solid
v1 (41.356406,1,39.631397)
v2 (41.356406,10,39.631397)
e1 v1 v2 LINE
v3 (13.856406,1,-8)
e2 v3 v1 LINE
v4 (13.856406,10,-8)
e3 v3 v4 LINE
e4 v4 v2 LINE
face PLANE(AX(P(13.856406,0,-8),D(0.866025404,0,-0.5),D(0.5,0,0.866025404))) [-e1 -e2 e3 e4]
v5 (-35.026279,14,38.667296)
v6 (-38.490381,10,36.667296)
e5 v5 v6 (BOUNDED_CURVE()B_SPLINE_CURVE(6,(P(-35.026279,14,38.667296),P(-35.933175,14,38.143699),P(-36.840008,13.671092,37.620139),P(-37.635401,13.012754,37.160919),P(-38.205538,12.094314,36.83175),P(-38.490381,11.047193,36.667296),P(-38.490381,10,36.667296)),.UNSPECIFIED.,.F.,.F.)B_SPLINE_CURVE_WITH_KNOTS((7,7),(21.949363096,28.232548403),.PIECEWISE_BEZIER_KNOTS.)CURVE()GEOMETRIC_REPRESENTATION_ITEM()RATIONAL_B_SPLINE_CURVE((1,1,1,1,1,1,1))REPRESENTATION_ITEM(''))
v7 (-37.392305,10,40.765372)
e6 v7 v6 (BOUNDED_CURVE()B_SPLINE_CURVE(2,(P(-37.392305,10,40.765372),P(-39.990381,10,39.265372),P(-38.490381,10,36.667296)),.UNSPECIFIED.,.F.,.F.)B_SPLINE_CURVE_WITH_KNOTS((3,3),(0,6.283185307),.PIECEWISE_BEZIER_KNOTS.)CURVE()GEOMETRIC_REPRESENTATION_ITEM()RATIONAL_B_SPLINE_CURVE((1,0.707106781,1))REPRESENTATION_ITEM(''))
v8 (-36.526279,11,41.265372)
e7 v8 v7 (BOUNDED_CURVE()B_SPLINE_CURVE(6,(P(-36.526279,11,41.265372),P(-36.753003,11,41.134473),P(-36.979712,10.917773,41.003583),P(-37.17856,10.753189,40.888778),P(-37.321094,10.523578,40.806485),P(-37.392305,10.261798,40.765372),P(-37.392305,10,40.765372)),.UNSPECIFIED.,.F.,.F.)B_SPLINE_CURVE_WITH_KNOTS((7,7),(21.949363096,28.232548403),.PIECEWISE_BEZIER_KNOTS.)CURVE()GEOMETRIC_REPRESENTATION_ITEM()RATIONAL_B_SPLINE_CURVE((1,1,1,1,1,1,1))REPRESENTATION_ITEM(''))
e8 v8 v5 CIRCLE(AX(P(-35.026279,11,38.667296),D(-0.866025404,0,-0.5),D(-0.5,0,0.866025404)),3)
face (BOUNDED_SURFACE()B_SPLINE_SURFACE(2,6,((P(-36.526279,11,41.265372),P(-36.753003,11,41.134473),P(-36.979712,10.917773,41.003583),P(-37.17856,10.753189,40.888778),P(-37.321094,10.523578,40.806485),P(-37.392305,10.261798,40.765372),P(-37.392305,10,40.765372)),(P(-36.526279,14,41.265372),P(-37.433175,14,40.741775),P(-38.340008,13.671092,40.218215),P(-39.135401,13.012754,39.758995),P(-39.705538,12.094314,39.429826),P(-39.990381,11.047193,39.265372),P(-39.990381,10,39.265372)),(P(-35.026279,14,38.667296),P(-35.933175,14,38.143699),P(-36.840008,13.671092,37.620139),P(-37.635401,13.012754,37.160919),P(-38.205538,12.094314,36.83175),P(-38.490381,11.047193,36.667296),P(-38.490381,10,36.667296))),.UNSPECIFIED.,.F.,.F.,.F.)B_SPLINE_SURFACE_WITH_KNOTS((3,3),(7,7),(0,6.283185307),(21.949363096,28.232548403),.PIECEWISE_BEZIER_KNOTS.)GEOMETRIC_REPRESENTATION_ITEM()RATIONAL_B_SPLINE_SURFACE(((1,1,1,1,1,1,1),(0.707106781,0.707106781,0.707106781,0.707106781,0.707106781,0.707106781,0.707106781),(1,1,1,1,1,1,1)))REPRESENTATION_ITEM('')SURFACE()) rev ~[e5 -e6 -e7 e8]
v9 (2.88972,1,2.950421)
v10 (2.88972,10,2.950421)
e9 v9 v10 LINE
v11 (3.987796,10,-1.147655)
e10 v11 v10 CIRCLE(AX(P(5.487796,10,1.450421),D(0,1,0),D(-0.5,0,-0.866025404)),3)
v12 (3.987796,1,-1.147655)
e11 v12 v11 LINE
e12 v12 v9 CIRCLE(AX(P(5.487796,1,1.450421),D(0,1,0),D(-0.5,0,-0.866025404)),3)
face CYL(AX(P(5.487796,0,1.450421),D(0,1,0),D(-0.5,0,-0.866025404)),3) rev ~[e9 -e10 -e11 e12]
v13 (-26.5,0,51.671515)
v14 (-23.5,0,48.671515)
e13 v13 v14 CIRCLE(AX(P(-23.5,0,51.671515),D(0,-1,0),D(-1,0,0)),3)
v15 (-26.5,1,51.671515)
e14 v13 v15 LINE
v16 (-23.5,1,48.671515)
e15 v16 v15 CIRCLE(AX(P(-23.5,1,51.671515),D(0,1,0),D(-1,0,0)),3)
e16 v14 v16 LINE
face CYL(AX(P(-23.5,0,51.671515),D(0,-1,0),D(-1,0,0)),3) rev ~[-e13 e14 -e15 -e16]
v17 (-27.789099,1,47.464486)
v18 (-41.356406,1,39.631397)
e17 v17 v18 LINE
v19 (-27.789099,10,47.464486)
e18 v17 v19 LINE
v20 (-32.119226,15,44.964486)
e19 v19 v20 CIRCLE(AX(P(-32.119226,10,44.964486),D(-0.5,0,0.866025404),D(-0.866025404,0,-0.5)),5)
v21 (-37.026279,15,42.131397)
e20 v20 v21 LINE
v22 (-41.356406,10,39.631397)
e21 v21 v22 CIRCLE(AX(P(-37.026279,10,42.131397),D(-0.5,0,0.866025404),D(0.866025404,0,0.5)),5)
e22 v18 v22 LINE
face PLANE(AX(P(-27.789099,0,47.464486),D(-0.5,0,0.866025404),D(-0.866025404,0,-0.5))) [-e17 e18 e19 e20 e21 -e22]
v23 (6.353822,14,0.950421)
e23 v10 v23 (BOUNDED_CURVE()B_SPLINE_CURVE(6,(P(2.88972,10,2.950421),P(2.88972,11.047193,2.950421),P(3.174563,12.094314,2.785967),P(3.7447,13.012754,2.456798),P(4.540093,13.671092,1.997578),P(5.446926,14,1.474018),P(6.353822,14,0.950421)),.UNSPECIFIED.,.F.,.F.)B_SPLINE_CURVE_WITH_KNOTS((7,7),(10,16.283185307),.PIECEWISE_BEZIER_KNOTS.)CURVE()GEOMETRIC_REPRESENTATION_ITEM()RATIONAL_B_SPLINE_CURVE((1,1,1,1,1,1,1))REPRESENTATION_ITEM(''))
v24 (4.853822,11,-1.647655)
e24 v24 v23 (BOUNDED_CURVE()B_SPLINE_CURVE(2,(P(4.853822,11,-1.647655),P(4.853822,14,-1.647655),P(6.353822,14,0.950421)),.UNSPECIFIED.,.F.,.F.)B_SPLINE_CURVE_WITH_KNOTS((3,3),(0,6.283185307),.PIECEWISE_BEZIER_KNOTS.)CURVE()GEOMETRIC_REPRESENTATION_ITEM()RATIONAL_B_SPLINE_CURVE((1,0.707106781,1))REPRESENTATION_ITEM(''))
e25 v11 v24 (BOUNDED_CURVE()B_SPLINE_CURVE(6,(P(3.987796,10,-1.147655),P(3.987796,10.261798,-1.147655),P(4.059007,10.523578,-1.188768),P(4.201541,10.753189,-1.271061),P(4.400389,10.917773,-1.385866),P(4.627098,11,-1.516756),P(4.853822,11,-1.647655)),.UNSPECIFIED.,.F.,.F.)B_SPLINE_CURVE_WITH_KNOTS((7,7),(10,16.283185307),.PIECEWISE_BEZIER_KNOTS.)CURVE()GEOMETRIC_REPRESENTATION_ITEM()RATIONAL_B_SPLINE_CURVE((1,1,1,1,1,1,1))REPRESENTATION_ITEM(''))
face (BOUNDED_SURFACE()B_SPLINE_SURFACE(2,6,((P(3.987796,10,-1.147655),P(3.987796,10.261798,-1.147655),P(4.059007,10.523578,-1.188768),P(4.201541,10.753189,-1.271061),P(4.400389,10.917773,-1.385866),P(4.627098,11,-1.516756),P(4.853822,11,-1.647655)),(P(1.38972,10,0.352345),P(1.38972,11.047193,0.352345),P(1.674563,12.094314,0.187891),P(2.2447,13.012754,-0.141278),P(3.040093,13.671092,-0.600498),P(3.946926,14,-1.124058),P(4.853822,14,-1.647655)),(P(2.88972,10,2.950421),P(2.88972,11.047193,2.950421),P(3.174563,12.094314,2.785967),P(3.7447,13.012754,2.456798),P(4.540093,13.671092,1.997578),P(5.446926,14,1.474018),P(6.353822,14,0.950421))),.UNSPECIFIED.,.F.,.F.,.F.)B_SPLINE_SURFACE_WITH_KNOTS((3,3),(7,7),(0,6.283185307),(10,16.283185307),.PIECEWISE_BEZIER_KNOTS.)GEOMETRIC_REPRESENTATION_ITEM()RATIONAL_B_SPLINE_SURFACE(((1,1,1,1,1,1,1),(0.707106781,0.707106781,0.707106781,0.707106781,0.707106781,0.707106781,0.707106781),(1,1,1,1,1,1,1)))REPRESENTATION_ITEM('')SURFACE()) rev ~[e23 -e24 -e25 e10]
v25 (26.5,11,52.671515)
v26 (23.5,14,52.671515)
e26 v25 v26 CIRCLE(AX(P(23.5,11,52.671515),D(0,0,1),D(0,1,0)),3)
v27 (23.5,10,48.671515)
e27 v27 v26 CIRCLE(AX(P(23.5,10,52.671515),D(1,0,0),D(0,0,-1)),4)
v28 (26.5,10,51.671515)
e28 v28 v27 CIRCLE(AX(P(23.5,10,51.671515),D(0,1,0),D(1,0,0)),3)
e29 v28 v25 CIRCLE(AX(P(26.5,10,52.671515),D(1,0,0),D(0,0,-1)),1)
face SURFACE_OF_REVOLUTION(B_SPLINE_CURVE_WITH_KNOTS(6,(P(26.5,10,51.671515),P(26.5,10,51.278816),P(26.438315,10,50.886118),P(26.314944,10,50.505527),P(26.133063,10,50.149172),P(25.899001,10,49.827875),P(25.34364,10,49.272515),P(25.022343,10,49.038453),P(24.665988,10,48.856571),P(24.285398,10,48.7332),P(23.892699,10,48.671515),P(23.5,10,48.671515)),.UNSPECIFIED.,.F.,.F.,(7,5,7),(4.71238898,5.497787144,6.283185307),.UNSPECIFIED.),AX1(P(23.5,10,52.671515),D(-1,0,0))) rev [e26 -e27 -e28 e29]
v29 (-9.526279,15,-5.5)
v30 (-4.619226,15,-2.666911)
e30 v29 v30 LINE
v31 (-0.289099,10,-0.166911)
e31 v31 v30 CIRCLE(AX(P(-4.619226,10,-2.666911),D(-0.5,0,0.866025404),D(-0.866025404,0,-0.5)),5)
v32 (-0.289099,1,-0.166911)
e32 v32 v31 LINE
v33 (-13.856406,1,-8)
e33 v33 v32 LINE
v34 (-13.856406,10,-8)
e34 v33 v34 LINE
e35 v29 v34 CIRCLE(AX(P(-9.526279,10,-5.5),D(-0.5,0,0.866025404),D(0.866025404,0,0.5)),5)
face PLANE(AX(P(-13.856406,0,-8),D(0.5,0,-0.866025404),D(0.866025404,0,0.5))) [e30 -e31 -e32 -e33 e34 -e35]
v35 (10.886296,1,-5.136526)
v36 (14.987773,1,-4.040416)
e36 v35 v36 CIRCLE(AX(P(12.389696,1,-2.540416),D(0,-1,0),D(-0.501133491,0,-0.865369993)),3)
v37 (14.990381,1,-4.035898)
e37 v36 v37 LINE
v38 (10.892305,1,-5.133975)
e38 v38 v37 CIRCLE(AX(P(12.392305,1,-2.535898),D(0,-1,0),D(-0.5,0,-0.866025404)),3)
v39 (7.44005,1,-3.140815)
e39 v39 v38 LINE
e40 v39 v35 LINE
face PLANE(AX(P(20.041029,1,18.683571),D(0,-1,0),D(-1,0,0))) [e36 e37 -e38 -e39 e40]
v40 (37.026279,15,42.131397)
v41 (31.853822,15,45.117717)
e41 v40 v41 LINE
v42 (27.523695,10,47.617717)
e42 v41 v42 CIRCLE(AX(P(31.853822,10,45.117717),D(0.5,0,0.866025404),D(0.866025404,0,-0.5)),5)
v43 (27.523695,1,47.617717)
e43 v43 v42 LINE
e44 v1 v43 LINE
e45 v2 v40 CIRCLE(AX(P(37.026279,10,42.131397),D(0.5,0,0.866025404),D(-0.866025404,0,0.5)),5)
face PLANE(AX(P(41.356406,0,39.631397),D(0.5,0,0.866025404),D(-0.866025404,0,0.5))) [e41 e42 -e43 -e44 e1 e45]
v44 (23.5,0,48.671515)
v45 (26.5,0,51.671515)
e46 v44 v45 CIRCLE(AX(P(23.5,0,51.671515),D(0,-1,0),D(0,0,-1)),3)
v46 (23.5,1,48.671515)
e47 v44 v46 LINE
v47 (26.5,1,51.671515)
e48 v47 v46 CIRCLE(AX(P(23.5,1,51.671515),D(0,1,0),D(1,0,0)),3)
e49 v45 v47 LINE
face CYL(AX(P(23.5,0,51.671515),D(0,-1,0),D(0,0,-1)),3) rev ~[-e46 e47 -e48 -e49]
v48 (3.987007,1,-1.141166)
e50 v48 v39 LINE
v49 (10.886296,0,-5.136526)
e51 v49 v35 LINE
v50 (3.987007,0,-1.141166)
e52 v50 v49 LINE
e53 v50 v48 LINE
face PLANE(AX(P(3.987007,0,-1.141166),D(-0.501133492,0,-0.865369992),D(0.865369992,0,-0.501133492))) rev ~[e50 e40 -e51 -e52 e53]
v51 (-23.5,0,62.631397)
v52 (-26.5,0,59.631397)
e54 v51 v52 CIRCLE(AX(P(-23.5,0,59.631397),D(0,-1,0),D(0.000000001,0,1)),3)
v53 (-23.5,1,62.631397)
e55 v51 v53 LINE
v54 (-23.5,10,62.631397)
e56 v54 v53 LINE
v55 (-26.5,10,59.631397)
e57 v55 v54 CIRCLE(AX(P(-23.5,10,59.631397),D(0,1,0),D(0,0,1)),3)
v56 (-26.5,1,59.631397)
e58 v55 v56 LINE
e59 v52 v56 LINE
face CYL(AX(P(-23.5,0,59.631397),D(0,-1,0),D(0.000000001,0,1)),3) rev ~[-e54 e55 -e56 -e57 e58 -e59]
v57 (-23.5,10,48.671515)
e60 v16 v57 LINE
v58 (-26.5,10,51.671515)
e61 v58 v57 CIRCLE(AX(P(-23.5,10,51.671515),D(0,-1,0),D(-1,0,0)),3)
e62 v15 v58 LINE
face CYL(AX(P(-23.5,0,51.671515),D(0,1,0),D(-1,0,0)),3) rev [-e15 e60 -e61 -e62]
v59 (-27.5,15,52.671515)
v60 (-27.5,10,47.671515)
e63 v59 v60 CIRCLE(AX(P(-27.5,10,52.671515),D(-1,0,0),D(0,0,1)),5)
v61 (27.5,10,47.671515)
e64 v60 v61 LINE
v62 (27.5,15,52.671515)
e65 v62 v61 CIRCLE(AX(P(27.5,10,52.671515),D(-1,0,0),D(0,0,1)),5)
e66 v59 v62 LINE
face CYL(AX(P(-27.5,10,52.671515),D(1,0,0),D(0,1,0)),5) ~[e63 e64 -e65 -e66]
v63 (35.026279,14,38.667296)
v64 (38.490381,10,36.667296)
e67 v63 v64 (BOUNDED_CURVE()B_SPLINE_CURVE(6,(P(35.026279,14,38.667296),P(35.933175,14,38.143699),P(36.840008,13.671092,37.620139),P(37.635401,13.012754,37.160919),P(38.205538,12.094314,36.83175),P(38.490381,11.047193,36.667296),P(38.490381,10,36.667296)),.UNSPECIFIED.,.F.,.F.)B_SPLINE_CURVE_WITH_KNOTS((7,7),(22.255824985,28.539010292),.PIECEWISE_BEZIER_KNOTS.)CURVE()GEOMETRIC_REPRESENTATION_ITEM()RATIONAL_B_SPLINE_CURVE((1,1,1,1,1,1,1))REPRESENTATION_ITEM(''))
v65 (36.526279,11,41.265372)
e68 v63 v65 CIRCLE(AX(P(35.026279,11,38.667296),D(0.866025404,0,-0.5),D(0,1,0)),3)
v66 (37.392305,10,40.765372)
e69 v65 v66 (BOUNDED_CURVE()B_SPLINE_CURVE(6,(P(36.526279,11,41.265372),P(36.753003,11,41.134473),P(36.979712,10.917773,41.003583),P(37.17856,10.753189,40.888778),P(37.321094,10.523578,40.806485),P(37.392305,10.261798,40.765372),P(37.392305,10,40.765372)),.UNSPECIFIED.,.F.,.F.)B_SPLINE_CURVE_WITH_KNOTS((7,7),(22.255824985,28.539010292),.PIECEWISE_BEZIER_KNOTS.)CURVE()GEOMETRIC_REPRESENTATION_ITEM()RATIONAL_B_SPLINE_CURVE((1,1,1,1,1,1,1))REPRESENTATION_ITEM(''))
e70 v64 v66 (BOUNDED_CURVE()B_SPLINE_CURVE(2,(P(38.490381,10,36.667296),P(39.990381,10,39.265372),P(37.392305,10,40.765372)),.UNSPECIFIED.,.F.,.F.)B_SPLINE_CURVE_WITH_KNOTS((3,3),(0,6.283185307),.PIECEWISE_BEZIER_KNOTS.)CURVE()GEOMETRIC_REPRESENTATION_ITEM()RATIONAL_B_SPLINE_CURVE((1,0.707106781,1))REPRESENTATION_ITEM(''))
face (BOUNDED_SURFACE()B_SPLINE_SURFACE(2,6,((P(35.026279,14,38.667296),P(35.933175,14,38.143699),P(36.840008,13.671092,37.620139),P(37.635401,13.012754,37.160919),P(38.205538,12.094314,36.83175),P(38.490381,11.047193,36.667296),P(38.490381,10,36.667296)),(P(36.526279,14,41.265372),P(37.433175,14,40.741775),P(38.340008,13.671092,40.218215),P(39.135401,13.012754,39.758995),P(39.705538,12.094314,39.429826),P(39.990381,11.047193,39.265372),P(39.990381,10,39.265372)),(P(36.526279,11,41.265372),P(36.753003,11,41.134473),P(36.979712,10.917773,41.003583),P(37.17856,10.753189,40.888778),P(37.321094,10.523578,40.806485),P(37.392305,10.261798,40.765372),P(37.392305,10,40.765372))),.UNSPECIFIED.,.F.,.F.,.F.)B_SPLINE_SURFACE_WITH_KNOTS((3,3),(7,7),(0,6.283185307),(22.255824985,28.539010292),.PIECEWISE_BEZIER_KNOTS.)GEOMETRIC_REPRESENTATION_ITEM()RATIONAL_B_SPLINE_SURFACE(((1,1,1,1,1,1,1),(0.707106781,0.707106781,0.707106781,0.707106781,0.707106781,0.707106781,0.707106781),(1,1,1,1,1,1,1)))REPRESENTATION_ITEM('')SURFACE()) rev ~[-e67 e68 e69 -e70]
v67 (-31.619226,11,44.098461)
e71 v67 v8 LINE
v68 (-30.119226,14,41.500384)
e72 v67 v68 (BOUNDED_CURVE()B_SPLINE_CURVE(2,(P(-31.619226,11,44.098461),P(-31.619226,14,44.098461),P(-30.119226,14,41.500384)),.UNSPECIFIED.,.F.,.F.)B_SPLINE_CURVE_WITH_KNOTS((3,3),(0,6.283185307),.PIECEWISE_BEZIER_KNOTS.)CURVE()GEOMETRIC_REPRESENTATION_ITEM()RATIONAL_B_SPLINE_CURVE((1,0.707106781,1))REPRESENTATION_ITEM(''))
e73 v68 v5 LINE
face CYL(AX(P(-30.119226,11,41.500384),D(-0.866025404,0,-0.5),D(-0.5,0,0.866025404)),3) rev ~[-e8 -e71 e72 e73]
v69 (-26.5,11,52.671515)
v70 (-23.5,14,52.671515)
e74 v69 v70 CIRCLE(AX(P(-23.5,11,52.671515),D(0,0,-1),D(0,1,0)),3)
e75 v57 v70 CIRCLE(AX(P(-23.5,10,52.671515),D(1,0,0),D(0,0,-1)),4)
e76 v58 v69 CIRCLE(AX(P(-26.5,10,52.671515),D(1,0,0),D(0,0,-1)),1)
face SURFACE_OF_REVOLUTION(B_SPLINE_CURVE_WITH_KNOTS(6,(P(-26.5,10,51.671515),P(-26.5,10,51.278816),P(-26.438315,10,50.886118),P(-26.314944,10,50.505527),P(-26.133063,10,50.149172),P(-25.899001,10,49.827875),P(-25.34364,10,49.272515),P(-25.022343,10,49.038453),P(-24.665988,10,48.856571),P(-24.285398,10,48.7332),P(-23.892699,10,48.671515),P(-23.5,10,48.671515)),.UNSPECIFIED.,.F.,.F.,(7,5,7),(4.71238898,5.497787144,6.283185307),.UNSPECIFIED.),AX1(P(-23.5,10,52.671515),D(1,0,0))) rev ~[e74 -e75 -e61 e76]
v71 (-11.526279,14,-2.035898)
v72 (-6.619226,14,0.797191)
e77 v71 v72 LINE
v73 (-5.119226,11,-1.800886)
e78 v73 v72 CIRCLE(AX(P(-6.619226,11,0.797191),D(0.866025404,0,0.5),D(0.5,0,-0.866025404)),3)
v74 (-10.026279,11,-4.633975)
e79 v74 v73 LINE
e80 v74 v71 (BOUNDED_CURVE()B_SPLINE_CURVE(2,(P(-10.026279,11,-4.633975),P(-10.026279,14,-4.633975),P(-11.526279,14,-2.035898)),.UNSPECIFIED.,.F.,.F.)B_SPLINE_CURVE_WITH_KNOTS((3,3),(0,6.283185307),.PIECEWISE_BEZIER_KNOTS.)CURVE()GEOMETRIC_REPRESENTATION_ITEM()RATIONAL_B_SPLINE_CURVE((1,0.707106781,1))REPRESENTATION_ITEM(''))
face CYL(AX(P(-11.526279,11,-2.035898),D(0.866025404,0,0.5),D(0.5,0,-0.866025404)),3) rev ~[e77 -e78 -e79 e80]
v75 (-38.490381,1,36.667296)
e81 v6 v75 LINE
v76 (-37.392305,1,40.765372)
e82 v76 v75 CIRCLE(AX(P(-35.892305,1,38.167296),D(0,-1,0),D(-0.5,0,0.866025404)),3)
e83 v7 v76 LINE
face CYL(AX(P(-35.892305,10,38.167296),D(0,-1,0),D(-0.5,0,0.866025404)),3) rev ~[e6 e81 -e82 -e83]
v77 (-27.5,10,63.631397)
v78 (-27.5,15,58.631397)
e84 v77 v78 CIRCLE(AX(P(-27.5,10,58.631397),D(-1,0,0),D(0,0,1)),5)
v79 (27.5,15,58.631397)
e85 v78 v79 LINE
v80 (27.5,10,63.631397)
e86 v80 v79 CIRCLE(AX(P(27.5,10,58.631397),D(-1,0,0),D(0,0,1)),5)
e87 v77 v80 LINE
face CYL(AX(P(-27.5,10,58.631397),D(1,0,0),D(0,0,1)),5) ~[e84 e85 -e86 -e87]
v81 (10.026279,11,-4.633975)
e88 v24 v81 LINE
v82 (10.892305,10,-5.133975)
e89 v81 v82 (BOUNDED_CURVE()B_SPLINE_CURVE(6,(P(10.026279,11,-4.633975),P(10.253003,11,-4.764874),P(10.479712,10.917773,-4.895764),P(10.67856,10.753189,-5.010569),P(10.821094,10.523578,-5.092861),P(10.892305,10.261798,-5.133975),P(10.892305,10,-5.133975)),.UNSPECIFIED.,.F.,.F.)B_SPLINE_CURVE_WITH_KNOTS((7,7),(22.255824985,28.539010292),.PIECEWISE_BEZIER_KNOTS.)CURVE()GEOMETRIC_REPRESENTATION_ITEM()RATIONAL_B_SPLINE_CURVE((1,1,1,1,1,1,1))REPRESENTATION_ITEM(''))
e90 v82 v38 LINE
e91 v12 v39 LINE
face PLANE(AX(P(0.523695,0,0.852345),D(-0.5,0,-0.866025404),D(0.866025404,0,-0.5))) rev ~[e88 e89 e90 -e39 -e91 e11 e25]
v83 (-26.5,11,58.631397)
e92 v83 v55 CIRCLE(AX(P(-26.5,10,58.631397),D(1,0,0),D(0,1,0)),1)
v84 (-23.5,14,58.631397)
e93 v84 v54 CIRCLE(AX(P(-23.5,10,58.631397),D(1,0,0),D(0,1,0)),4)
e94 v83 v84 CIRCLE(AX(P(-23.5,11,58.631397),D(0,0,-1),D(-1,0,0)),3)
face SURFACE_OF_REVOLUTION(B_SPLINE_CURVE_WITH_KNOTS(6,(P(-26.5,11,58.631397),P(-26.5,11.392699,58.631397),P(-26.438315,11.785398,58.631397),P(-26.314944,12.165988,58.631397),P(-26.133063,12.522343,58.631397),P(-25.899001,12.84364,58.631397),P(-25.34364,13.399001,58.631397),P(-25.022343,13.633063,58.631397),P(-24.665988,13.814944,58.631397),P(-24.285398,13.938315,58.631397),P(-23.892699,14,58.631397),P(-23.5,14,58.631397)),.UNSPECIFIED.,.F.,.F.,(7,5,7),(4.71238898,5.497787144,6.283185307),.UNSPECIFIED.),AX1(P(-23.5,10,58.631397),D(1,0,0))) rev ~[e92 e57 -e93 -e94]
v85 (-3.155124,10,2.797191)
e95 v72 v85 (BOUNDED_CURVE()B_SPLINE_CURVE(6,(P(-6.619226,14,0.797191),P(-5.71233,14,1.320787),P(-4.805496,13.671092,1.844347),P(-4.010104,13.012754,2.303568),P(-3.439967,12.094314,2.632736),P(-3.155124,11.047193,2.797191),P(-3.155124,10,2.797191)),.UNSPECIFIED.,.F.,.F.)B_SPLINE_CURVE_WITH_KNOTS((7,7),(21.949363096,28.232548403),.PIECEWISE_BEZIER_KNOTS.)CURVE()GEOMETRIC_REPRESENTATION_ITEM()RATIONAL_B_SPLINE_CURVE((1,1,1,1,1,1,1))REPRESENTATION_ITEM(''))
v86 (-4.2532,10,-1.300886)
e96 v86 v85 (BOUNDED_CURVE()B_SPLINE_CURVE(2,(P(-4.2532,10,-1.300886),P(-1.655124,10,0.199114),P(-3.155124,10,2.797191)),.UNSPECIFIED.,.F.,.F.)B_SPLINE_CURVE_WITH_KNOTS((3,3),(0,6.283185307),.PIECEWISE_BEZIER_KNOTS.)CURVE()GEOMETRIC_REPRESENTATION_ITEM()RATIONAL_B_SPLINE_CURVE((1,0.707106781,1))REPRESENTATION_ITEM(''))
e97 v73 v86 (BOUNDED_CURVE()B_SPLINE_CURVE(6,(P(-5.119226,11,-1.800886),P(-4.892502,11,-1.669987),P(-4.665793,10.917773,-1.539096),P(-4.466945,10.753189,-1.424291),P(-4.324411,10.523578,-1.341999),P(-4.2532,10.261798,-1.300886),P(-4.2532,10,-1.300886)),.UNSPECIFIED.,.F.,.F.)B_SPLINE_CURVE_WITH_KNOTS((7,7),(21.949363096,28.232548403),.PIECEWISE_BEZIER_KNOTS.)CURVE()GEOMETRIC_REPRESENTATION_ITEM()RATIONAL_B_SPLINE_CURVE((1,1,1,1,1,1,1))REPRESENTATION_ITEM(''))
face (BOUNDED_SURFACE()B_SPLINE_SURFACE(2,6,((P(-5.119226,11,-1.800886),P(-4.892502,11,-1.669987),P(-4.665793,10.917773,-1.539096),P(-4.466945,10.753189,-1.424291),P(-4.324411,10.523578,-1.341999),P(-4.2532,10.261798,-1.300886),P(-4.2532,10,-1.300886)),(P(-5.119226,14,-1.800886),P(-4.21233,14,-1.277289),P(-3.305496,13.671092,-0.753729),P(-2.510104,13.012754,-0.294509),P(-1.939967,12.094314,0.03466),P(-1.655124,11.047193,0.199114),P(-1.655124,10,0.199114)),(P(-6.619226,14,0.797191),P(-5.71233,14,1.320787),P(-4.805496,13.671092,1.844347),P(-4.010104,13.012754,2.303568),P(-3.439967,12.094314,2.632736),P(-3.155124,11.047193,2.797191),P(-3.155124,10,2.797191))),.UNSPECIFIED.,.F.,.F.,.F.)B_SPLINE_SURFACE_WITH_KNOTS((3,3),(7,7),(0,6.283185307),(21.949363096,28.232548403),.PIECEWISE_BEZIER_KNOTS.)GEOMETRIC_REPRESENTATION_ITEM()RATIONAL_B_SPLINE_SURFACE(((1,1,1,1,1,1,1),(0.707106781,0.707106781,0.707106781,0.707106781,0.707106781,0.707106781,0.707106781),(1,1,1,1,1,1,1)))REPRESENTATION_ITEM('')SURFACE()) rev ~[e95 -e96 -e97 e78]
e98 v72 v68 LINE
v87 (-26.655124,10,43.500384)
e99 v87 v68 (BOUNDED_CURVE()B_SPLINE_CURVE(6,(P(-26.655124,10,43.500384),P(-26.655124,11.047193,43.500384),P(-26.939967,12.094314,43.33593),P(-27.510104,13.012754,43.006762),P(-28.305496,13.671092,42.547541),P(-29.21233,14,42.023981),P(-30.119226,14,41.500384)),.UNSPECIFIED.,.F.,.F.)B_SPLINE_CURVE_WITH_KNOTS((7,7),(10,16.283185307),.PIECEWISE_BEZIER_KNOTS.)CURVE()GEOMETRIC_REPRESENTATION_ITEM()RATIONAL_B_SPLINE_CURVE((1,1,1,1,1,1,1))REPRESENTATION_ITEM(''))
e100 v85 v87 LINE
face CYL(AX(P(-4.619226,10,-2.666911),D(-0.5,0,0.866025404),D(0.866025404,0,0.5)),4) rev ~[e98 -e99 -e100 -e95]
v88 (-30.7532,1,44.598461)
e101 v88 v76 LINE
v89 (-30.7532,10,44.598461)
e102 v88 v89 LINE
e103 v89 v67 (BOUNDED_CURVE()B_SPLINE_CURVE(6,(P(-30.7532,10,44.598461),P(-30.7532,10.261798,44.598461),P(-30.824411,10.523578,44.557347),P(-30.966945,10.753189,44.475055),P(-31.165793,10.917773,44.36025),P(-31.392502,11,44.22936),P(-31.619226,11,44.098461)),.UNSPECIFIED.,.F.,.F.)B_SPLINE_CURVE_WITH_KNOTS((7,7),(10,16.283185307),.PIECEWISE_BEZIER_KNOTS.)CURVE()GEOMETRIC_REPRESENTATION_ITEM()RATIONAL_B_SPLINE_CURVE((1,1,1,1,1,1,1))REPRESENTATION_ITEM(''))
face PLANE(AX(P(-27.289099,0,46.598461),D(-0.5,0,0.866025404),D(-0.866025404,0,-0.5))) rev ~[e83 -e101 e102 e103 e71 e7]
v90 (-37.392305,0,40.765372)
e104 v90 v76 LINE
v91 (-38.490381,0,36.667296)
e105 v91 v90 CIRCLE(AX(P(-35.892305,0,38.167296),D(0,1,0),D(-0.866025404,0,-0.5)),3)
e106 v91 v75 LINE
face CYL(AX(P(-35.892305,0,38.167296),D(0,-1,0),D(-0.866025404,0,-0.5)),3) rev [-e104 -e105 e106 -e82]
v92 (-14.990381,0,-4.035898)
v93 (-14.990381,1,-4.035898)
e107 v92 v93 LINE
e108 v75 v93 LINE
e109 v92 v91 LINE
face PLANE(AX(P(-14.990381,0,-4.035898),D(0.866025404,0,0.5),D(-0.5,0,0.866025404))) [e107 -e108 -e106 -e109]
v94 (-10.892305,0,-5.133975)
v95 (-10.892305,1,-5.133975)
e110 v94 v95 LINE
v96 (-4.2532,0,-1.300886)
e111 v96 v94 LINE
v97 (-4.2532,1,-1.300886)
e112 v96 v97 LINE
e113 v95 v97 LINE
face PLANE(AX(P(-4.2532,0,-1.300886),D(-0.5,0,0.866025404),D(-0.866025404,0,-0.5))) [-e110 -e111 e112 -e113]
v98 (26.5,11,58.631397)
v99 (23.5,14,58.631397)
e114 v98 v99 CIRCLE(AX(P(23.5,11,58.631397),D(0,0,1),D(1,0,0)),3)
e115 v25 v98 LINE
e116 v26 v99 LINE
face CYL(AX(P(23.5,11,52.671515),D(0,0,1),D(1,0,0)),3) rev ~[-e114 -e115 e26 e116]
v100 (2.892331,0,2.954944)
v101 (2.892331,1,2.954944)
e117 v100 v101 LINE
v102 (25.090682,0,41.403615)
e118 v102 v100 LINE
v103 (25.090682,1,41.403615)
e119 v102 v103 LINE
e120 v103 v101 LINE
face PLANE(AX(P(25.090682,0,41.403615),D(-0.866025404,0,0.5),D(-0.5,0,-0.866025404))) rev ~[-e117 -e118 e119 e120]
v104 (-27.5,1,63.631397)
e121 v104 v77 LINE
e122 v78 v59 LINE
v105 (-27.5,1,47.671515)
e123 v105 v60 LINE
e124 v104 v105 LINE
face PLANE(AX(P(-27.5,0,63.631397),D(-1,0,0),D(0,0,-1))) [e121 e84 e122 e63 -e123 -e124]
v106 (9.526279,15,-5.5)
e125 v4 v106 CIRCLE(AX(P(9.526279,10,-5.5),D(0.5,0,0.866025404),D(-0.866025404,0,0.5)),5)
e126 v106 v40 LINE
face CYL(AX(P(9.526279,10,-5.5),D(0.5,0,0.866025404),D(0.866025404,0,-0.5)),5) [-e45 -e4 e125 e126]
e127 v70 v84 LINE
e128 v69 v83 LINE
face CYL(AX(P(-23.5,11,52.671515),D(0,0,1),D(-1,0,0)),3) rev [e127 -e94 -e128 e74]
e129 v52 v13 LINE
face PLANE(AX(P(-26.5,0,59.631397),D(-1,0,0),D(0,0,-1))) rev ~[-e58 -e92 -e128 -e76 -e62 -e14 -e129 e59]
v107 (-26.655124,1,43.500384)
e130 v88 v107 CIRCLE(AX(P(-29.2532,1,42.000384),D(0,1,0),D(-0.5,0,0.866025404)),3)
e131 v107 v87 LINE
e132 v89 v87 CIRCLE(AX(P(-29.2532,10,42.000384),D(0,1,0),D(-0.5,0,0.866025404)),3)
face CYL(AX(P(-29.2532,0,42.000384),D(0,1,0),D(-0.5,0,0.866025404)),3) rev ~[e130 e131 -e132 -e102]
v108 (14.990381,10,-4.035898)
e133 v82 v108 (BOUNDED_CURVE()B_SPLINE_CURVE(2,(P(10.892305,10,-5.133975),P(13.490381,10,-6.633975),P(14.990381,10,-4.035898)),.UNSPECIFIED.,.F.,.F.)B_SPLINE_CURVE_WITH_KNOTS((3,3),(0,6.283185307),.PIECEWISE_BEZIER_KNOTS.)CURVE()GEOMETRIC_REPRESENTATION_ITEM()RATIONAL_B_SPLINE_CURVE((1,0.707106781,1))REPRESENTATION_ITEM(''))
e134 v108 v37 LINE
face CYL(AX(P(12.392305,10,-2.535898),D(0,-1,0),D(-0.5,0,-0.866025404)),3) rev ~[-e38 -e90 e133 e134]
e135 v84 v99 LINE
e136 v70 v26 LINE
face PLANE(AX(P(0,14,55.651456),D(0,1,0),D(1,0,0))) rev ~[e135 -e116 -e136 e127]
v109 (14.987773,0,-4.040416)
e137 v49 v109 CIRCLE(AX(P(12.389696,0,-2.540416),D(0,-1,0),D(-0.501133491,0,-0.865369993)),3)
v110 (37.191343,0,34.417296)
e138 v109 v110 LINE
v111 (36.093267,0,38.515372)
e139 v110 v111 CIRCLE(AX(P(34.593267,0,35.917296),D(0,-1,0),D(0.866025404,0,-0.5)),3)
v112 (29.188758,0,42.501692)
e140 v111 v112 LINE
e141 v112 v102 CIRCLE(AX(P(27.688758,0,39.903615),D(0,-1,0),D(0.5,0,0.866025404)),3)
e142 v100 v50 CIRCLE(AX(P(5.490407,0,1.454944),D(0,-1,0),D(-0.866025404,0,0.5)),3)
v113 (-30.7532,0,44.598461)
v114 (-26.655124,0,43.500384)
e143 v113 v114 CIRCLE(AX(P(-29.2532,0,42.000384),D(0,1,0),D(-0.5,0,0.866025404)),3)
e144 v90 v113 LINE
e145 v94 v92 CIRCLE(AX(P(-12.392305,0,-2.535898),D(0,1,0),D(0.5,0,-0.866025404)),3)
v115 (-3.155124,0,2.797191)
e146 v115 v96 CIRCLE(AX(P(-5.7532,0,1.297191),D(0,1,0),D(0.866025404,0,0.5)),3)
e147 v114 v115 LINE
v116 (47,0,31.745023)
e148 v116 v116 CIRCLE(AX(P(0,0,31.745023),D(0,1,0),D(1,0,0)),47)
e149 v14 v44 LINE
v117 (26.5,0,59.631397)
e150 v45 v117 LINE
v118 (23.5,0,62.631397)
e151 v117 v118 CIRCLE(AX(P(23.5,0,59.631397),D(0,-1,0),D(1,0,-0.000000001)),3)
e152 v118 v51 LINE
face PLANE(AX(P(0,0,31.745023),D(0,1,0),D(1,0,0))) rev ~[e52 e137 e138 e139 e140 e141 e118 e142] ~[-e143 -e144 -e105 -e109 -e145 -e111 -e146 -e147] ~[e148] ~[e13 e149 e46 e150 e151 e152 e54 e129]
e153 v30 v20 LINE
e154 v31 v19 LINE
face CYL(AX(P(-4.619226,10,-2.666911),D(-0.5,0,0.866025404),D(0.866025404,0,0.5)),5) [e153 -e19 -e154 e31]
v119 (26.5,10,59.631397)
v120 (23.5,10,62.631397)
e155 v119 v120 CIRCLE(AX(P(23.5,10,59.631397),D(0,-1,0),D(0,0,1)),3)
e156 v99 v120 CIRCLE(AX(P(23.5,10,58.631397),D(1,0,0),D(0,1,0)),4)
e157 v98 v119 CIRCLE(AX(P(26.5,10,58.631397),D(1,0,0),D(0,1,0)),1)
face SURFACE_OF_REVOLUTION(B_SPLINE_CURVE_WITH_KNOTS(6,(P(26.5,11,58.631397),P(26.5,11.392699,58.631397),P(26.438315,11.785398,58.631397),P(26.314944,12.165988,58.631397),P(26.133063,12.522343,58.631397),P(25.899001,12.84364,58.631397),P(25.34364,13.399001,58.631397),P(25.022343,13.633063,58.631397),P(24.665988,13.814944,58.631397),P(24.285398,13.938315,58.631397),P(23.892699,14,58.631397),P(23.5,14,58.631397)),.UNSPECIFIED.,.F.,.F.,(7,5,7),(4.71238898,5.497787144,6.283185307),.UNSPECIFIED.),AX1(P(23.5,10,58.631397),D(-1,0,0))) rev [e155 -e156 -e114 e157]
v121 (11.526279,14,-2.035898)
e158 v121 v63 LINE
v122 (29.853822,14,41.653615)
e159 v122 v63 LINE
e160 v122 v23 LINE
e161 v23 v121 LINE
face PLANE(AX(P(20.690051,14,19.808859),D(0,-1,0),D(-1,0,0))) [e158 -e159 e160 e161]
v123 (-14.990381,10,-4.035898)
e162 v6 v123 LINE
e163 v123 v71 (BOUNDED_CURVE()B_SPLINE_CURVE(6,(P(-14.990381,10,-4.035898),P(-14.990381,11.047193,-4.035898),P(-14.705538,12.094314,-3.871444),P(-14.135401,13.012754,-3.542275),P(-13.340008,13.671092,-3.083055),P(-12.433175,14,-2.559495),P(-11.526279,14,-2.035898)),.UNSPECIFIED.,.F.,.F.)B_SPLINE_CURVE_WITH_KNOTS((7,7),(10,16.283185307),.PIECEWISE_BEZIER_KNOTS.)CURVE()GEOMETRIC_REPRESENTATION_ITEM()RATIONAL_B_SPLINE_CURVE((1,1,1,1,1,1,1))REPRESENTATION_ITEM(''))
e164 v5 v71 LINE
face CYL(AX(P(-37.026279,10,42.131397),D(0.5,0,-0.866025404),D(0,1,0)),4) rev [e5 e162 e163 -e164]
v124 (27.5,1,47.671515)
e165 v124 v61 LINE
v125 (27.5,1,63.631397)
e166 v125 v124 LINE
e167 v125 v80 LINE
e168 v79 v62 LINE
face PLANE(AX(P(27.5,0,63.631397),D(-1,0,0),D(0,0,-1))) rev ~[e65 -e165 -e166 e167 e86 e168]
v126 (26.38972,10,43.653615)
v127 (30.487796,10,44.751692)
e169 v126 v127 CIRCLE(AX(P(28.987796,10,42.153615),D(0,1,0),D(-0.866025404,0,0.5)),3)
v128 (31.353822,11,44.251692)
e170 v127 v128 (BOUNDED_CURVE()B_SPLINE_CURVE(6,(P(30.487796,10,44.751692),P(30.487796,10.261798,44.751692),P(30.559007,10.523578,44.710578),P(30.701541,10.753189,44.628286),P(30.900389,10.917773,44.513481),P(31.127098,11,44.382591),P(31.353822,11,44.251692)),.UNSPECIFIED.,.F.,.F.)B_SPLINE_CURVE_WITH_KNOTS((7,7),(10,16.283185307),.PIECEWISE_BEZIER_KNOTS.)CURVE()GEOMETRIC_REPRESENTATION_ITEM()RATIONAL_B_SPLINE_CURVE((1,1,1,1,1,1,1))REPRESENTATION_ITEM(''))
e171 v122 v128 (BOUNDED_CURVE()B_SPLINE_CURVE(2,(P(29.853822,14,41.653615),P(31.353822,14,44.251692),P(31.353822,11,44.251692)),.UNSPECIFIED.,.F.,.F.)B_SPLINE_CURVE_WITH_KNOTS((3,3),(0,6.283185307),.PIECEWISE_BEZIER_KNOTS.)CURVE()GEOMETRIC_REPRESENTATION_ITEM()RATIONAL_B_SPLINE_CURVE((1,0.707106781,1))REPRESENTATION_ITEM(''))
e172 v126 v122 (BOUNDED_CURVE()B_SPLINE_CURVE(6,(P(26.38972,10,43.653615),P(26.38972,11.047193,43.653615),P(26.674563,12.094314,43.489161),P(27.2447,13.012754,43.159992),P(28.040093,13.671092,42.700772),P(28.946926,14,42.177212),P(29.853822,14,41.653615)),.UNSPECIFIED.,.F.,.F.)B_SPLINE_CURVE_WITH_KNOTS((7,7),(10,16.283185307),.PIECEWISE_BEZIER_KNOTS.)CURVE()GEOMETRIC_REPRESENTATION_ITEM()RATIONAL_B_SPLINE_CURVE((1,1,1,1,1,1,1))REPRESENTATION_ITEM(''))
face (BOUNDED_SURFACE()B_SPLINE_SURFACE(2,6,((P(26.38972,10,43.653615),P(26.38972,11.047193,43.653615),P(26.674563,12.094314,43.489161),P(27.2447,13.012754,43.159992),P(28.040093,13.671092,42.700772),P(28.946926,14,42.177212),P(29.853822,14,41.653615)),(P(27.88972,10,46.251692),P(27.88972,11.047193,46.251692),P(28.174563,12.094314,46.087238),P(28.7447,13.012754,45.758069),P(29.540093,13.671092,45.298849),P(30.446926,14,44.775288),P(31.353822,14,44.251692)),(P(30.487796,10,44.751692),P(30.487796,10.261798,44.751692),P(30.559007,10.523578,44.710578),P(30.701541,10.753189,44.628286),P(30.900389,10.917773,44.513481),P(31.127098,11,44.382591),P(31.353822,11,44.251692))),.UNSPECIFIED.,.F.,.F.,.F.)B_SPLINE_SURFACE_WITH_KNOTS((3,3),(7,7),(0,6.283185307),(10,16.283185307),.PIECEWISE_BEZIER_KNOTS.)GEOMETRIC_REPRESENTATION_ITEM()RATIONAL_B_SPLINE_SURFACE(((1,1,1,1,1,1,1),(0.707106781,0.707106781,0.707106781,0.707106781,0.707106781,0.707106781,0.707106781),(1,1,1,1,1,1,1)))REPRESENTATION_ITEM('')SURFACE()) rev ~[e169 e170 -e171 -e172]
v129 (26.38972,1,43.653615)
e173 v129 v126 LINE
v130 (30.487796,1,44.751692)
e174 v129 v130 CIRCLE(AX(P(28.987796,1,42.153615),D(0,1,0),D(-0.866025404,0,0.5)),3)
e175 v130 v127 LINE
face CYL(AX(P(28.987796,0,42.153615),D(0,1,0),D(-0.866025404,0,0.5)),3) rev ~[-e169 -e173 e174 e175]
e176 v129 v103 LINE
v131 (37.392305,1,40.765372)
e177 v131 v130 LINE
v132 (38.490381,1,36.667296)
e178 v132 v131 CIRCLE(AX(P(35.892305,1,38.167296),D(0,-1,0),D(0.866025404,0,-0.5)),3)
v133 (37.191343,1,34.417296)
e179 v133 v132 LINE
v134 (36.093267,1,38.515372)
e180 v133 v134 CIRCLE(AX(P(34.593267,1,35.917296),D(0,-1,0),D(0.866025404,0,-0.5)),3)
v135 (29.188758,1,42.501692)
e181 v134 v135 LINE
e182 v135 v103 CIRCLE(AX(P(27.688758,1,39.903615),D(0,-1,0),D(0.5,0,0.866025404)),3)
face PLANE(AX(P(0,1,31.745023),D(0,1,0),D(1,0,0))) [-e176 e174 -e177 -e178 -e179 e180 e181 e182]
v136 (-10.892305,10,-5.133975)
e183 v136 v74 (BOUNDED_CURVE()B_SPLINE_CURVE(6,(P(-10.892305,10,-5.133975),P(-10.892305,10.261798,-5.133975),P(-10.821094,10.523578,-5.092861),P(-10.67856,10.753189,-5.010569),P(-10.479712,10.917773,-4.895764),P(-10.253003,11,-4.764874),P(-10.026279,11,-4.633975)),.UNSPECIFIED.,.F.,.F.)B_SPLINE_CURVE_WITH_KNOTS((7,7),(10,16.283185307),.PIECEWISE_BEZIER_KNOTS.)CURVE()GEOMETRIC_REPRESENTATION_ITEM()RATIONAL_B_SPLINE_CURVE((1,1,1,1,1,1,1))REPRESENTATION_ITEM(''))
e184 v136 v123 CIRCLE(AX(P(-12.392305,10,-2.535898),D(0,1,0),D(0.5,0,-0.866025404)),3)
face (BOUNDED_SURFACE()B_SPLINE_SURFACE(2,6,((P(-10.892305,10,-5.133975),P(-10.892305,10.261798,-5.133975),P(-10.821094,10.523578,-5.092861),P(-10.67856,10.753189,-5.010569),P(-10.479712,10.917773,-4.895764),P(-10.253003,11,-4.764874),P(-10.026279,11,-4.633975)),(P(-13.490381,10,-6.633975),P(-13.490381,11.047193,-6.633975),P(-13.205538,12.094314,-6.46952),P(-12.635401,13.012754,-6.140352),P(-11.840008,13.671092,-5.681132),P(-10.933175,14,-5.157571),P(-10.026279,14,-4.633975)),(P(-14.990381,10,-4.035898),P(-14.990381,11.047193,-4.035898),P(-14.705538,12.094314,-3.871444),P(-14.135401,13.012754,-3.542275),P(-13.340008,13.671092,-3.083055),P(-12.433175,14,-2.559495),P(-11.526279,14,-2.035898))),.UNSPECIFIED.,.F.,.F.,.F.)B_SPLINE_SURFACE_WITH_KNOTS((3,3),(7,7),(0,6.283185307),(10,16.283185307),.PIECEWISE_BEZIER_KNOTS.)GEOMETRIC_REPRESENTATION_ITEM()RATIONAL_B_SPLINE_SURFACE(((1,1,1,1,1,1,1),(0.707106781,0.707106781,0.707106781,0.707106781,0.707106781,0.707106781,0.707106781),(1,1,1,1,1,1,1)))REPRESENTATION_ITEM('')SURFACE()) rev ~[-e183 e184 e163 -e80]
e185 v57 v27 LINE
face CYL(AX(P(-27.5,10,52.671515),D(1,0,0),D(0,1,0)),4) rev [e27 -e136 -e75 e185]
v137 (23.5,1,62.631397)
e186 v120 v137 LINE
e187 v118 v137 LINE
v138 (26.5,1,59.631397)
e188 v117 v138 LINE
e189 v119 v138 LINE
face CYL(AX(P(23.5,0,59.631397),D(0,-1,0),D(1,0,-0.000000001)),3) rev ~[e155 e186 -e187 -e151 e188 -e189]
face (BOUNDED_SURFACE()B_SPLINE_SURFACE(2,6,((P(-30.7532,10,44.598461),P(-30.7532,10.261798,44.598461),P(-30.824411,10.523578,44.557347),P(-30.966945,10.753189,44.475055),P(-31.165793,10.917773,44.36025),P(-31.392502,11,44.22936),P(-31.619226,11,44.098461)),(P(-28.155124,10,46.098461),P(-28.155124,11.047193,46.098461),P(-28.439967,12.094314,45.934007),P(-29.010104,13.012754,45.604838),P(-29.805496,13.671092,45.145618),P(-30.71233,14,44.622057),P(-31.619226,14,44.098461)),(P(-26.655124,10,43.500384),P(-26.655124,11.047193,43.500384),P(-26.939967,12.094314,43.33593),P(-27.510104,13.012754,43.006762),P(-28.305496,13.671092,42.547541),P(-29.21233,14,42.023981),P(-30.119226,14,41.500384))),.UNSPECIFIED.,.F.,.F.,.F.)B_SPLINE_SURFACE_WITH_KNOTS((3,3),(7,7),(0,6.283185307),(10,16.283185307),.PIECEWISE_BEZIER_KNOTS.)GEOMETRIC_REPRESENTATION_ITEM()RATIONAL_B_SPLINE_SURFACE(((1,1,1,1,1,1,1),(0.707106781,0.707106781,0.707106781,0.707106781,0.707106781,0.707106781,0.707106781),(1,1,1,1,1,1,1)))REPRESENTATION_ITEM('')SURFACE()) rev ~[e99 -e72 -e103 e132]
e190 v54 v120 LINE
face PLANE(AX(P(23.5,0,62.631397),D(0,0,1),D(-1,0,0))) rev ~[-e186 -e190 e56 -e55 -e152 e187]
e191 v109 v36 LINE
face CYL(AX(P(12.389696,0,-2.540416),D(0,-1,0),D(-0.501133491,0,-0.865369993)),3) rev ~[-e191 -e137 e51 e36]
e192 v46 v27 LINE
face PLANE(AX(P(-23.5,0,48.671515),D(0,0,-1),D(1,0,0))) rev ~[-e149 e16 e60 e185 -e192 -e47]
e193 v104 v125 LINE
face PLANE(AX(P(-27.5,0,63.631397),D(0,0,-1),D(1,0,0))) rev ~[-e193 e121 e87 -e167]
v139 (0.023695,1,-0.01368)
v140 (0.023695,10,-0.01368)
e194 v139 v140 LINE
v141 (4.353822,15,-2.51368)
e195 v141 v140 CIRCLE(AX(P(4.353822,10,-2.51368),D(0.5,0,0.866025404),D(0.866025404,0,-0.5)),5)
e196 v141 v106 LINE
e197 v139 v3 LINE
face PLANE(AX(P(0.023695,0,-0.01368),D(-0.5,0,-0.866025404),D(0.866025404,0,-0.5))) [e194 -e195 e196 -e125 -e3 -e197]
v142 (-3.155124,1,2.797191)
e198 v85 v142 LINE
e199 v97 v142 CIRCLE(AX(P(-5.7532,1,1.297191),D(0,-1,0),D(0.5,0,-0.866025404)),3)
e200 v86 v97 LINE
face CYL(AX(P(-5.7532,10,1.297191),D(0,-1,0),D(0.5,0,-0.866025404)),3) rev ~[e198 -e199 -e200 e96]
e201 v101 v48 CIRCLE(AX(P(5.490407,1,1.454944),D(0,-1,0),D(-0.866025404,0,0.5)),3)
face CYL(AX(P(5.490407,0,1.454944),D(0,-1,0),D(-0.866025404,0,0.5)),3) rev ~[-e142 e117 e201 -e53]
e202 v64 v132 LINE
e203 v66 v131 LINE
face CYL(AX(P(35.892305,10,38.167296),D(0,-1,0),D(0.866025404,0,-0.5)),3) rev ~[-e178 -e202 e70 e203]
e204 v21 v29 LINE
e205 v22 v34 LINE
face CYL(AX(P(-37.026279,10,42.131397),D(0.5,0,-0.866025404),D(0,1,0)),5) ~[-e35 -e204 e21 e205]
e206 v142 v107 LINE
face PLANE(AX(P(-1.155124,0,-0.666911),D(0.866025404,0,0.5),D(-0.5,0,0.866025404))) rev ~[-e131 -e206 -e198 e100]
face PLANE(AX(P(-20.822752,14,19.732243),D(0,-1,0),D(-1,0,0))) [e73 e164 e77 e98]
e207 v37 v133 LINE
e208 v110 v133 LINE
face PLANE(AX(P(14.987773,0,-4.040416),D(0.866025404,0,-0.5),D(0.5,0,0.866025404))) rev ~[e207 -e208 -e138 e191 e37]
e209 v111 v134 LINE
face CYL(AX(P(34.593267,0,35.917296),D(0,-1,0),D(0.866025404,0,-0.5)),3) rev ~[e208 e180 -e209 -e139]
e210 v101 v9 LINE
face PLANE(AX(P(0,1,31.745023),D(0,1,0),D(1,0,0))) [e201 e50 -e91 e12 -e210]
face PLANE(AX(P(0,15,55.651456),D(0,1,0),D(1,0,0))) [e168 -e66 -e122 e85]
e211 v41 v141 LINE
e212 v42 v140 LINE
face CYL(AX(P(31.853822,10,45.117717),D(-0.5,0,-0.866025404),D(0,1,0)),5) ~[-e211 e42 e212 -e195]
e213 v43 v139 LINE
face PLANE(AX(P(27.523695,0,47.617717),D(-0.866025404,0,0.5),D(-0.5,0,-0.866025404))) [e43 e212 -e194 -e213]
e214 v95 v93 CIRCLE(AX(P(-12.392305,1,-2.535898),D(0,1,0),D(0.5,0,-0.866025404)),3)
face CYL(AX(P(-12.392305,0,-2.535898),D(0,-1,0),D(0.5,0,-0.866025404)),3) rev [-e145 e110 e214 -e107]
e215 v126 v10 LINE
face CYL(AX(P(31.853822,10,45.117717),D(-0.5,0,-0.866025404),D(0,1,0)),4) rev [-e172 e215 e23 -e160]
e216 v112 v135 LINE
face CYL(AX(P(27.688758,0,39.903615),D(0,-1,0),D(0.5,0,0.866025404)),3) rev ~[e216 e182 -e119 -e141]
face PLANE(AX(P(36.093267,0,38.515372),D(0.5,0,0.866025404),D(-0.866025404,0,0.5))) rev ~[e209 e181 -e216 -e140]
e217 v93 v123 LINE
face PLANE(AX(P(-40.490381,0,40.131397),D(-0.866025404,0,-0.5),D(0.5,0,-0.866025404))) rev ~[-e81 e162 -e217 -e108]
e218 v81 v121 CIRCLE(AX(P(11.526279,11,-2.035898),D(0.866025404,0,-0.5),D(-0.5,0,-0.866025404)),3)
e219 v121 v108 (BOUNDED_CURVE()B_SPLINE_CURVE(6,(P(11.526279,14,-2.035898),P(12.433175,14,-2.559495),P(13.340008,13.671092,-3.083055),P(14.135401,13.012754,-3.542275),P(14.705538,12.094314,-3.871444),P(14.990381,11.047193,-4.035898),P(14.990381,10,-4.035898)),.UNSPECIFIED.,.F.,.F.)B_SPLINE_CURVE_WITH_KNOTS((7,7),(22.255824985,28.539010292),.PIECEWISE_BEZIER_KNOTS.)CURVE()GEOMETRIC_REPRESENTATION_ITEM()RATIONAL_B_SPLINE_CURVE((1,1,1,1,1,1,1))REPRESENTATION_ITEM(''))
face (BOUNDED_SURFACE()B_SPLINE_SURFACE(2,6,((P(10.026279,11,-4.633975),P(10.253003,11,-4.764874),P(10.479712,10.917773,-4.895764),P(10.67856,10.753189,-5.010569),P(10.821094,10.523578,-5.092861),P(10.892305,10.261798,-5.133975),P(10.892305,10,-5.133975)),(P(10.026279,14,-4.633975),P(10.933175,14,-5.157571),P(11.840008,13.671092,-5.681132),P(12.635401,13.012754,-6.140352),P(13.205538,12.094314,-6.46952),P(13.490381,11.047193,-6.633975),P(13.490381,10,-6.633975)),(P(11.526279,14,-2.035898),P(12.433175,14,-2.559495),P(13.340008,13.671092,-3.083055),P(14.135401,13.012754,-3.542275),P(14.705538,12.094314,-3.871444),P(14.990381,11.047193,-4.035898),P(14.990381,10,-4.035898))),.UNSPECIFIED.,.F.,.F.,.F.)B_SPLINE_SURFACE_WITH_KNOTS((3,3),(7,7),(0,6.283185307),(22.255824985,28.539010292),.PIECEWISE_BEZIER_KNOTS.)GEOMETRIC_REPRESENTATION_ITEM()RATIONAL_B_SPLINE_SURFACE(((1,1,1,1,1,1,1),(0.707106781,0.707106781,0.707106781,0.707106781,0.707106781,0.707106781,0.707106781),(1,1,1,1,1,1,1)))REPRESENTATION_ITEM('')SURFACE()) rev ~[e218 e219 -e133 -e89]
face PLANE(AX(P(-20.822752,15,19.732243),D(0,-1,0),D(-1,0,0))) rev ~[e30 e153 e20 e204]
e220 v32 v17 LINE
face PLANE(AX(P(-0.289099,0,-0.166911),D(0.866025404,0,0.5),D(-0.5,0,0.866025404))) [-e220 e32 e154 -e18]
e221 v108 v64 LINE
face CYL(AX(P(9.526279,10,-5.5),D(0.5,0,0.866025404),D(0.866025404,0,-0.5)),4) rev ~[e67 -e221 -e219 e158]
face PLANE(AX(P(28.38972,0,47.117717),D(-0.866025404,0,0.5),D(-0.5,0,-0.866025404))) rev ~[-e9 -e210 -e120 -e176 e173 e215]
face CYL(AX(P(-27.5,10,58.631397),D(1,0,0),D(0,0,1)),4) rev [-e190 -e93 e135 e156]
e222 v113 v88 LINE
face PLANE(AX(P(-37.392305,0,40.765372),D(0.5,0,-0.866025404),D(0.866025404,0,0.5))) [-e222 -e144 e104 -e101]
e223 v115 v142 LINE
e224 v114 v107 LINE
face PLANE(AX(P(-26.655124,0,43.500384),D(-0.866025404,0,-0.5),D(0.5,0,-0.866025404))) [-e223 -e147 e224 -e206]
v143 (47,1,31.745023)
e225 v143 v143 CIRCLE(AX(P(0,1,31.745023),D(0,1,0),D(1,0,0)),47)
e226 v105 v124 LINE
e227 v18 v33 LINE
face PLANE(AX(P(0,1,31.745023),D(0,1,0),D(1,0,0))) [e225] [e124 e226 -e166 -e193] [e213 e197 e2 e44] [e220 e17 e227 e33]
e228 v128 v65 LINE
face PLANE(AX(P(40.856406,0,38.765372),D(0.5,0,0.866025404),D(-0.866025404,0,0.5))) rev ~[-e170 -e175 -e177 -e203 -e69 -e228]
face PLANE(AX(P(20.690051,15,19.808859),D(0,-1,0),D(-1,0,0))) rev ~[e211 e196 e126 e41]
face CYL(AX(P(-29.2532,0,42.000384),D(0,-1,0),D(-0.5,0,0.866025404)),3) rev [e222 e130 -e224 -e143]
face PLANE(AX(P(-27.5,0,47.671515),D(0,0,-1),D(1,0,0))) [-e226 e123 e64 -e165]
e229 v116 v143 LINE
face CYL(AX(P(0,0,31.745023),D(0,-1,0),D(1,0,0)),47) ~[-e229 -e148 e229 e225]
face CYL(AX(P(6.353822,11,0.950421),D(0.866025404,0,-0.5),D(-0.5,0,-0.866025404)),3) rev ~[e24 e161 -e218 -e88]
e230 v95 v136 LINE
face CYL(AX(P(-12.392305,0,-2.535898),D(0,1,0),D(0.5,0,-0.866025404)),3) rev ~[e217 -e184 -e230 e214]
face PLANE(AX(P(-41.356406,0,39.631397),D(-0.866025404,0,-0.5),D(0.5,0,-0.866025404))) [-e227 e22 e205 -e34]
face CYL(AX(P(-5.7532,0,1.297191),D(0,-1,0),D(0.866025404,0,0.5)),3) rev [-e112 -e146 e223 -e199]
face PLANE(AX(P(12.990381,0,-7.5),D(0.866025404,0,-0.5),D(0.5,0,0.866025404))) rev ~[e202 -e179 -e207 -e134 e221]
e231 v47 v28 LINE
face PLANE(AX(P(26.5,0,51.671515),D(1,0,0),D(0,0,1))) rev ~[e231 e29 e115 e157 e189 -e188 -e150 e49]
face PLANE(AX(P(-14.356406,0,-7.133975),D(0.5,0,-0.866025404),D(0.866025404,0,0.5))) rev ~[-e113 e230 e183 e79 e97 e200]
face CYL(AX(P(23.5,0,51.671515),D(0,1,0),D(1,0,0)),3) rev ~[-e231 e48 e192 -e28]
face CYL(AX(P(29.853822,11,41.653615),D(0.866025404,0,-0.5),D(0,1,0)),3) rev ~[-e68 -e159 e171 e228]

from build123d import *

# Parameters (mm, degrees)
BOSS_EXTRUDE1_DEPTH     = 15
SKETCH1_W               = 55
SKETCH1_H               = 15.959882119
BOSS_EXTRUDE1_2_DEPTH   = 15
BOSS_EXTRUDE1_3_DEPTH   = 15
FILLET1_R               = 5
FILLET2_R               = 5
FILLET3_R               = 5
FILLET4_R               = 5
FILLET5_R               = 5
FILLET6_R               = 5
SHELL1_T                = -1
SHELL2_T                = -1
SHELL3_T                = -1
FILLET7_R               = 3
FILLET8_R               = 3
FILLET9_R               = 3
FILLET10_R              = 3
FILLET11_R              = 3
FILLET12_R              = 3
SKETCH2_R               = 47
BOSS_EXTRUDE2_DEPTH     = 1
CUT_EXTRUDE1_DEPTH      = 1
CUT_EXTRUDE1_DEPTH_BACK = 13


with BuildPart() as part:
    # Sketch1 → Boss-Extrude1 (new body)
    with BuildSketch(Plane(origin=(0, 0, 0), x_dir=(1, 0, 0), z_dir=(0, 1, 0))):
        Polygon((0.023694735, 0.013680161), (13.856406461, 8), (41.356406461, -39.631397208), (27.523694735, -47.617717047), align=None)
    extrude(amount=BOSS_EXTRUDE1_DEPTH)

    # Fillet3
    fillet3_edges = [part.edges().sort_by_distance(p)[0] for p in [
        (27.606406461, 15, 15.815698604),
    ]]
    fillet(fillet3_edges, radius=FILLET3_R)

    # Fillet4
    fillet4_edges = [part.edges().sort_by_distance(p)[0] for p in [
        (13.773694735, 15, 23.802018443),
    ]]
    fillet(fillet4_edges, radius=FILLET4_R)

    # Shell3
    shell3_openings = [part.faces().sort_by_distance(p)[0] for p in [
        (20.690050598, 0, 19.808858523),
    ]]
    offset(amount=SHELL3_T, openings=shell3_openings, kind=Kind.INTERSECTION)

    # Fillet9
    fillet9_edges = [part.edges().sort_by_distance(p)[0] for p in [
        (2.404332011, 12.828427125, -0.233441195),
        (12.475769184, 12.828427125, -6.048188159),
        (13.490381057, 5, -6.633974596),
        (1.389720138, 5, 0.352345242),
        (7.440050598, 14, -3.140814677),
    ]]
    fillet(fillet9_edges, radius=FILLET9_R)

    # Fillet12
    fillet12_edges = [part.edges().sort_by_distance(p)[0] for p in [
        (39.990381057, 5, 39.265371804),
        (28.904332011, 12.828427125, 45.665905205),
        (27.889720138, 5, 46.251691643),
        (38.975769184, 12.828427125, 39.851158242),
        (33.940050598, 14, 42.758531724),
    ]]
    fillet(fillet12_edges, radius=FILLET12_R)



with BuildPart() as body_2:
    # Sketch1 → Boss-Extrude1 2 (new body)
    with BuildSketch(Plane(origin=(0, 0, 0), x_dir=(1, 0, 0), z_dir=(0, 1, 0))):
        with Locations((0, -55.651456149)):
            Rectangle(SKETCH1_W, SKETCH1_H)
    extrude(amount=BOSS_EXTRUDE1_2_DEPTH)

    # Fillet1
    fillet1_edges = [body_2.edges().sort_by_distance(p)[0] for p in [
        (0, 15, 63.631397208),
    ]]
    fillet(fillet1_edges, radius=FILLET1_R)

    # Fillet2
    fillet2_edges = [body_2.edges().sort_by_distance(p)[0] for p in [
        (0, 15, 47.671515089),
    ]]
    fillet(fillet2_edges, radius=FILLET2_R)

    # Shell2
    shell2_openings = [body_2.faces().sort_by_distance(p)[0] for p in [
        (0, 0, 55.651456149),
    ]]
    offset(amount=SHELL2_T, openings=shell2_openings, kind=Kind.INTERSECTION)

    # Fillet10
    fillet10_edges = [body_2.edges().sort_by_distance(p)[0] for p in [
        (-26.5, 5, 62.631397208),
        (-26.5, 12.828427125, 49.843087964),
        (-26.5, 5, 48.671515089),
        (-26.5, 12.828427125, 61.459824333),
        (-26.5, 14, 55.651456149),
    ]]
    fillet(fillet10_edges, radius=FILLET10_R)

    # Fillet11
    fillet11_edges = [body_2.edges().sort_by_distance(p)[0] for p in [
        (26.5, 12.828427125, 49.843087964),
        (26.5, 12.828427125, 61.459824333),
        (26.5, 5, 62.631397208),
        (26.5, 5, 48.671515089),
        (26.5, 14, 55.651456149),
    ]]
    fillet(fillet11_edges, radius=FILLET11_R)


with BuildPart() as body_3:
    # Sketch1 → Boss-Extrude1 3 (new body)
    with BuildSketch(Plane(origin=(0, 0, 0), x_dir=(1, 0, 0), z_dir=(0, 1, 0))):
        Polygon((-27.789098516, -47.464486102), (-41.356406461, -39.631397208), (-13.856406461, 8), (-0.289098516, 0.166911106), align=None)
    extrude(amount=BOSS_EXTRUDE1_3_DEPTH)

    # Fillet5
    fillet5_edges = [body_3.edges().sort_by_distance(p)[0] for p in [
        (-14.039098516, 15, 23.648787498),
    ]]
    fillet(fillet5_edges, radius=FILLET5_R)

    # Fillet6
    fillet6_edges = [body_3.edges().sort_by_distance(p)[0] for p in [
        (-27.606406461, 15, 15.815698604),
    ]]
    fillet(fillet6_edges, radius=FILLET6_R)

    # Shell1
    shell1_openings = [body_3.faces().sort_by_distance(p)[0] for p in [
        (-20.822752488, 0, 19.732243051),
    ]]
    offset(amount=SHELL1_T, openings=shell1_openings, kind=Kind.INTERSECTION)

    # Fillet7
    fillet7_edges = [body_3.edges().sort_by_distance(p)[0] for p in [
        (-28.155123919, 5, 46.098460699),
        (-38.975769184, 12.828427125, 39.851158242),
        (-39.990381057, 5, 39.265371804),
        (-29.169735792, 12.828427125, 45.512674261),
        (-34.072752488, 14, 42.681916251),
    ]]
    fillet(fillet7_edges, radius=FILLET7_R)

    # Fillet8
    fillet8_edges = [body_3.edges().sort_by_distance(p)[0] for p in [
        (-12.475769184, 12.828427125, -6.048188159),
        (-2.669735792, 12.828427125, -0.38667214),
        (-1.655123919, 5, 0.199114298),
        (-13.490381057, 5, -6.633974596),
        (-7.572752488, 14, -3.217430149),
    ]]
    fillet(fillet8_edges, radius=FILLET8_R)


with BuildPart() as part_1:
    add(part.part)

    add(body_2.part)  # Boss-Extrude2 merges body 2

    add(body_3.part)  # Boss-Extrude2 merges body 3
    # Sketch2 → Boss-Extrude2 (add)
    with BuildSketch(Plane(origin=(0, 0, 0), x_dir=(1, 0, 0), z_dir=(0, 1, 0))):
        with Locations((0, -31.745023024)):
            Circle(SKETCH2_R)
    extrude(amount=BOSS_EXTRUDE2_DEPTH)

    # Sketch3 → Cut-Extrude1 (cut, two sides)
    with BuildSketch(Plane(origin=(0, 0, 0), x_dir=(1, 0, 0), z_dir=(0, 1, 0))) as cut_extrude1_sk:
        with BuildLine():
            Line((3.987006883, 1.141166124), (10.886295934, 5.136526307))
            ThreePointArc((10.886295934, 5.136526307), (13.164256292, 5.43870151), (14.98777262, 4.04041633))
            Line((14.98777262, 4.04041633), (37.191342951, -34.417295593))
            ThreePointArc((37.191342951, -34.417295593), (37.491044219, -36.693752728), (36.09326674, -38.515371804))
            Line((36.09326674, -38.515371804), (29.188758244, -42.501691643))
            ThreePointArc((29.188758244, -42.501691643), (26.912301109, -42.801392911), (25.090682033, -41.403615432))
            Line((25.090682033, -41.403615432), (2.892331147, -2.954943853))
            ThreePointArc((2.892331147, -2.954943853), (2.592122178, -0.68038397), (3.987006883, 1.141166124))
        make_face()
        with BuildLine():
            Line((-23.5, -48.671515089), (23.5, -48.671515089))
            ThreePointArc((23.5, -48.671515089), (25.621320344, -49.550194746), (26.5, -51.671515089))
            Line((26.5, -51.671515089), (26.5, -59.631397208))
            ThreePointArc((26.5, -59.631397208), (25.621320344, -61.752717552), (23.5, -62.631397208))
            Line((23.5, -62.631397208), (-23.5, -62.631397208))
            ThreePointArc((-23.5, -62.631397208), (-25.621320344, -61.752717552), (-26.5, -59.631397208))
            Line((-26.5, -59.631397208), (-26.5, -51.671515089))
            ThreePointArc((-26.5, -51.671515089), (-25.621320344, -49.550194746), (-23.5, -48.671515089))
        make_face()
        with BuildLine():
            Line((-26.655123919, -43.500384487), (-3.155123919, -2.797190509))
            ThreePointArc((-3.155123919, -2.797190509), (-2.855422652, -0.520733374), (-4.253200131, 1.300885702))
            Line((-4.253200131, 1.300885702), (-10.892304845, 5.133974596))
            ThreePointArc((-10.892304845, 5.133974596), (-13.168761981, 5.433675864), (-14.990381057, 4.035898385))
            Line((-14.990381057, 4.035898385), (-38.490381057, -36.667295593))
            ThreePointArc((-38.490381057, -36.667295593), (-38.790082324, -38.943752728), (-37.392304845, -40.765371804))
            Line((-37.392304845, -40.765371804), (-30.753200131, -44.598460699))
            ThreePointArc((-30.753200131, -44.598460699), (-28.476742995, -44.898161966), (-26.655123919, -43.500384487))
        make_face()
    extrude(amount=CUT_EXTRUDE1_DEPTH, mode=Mode.SUBTRACT)
    extrude(cut_extrude1_sk.sketch, amount=-CUT_EXTRUDE1_DEPTH_BACK, mode=Mode.SUBTRACT)


solid = part_1.part
